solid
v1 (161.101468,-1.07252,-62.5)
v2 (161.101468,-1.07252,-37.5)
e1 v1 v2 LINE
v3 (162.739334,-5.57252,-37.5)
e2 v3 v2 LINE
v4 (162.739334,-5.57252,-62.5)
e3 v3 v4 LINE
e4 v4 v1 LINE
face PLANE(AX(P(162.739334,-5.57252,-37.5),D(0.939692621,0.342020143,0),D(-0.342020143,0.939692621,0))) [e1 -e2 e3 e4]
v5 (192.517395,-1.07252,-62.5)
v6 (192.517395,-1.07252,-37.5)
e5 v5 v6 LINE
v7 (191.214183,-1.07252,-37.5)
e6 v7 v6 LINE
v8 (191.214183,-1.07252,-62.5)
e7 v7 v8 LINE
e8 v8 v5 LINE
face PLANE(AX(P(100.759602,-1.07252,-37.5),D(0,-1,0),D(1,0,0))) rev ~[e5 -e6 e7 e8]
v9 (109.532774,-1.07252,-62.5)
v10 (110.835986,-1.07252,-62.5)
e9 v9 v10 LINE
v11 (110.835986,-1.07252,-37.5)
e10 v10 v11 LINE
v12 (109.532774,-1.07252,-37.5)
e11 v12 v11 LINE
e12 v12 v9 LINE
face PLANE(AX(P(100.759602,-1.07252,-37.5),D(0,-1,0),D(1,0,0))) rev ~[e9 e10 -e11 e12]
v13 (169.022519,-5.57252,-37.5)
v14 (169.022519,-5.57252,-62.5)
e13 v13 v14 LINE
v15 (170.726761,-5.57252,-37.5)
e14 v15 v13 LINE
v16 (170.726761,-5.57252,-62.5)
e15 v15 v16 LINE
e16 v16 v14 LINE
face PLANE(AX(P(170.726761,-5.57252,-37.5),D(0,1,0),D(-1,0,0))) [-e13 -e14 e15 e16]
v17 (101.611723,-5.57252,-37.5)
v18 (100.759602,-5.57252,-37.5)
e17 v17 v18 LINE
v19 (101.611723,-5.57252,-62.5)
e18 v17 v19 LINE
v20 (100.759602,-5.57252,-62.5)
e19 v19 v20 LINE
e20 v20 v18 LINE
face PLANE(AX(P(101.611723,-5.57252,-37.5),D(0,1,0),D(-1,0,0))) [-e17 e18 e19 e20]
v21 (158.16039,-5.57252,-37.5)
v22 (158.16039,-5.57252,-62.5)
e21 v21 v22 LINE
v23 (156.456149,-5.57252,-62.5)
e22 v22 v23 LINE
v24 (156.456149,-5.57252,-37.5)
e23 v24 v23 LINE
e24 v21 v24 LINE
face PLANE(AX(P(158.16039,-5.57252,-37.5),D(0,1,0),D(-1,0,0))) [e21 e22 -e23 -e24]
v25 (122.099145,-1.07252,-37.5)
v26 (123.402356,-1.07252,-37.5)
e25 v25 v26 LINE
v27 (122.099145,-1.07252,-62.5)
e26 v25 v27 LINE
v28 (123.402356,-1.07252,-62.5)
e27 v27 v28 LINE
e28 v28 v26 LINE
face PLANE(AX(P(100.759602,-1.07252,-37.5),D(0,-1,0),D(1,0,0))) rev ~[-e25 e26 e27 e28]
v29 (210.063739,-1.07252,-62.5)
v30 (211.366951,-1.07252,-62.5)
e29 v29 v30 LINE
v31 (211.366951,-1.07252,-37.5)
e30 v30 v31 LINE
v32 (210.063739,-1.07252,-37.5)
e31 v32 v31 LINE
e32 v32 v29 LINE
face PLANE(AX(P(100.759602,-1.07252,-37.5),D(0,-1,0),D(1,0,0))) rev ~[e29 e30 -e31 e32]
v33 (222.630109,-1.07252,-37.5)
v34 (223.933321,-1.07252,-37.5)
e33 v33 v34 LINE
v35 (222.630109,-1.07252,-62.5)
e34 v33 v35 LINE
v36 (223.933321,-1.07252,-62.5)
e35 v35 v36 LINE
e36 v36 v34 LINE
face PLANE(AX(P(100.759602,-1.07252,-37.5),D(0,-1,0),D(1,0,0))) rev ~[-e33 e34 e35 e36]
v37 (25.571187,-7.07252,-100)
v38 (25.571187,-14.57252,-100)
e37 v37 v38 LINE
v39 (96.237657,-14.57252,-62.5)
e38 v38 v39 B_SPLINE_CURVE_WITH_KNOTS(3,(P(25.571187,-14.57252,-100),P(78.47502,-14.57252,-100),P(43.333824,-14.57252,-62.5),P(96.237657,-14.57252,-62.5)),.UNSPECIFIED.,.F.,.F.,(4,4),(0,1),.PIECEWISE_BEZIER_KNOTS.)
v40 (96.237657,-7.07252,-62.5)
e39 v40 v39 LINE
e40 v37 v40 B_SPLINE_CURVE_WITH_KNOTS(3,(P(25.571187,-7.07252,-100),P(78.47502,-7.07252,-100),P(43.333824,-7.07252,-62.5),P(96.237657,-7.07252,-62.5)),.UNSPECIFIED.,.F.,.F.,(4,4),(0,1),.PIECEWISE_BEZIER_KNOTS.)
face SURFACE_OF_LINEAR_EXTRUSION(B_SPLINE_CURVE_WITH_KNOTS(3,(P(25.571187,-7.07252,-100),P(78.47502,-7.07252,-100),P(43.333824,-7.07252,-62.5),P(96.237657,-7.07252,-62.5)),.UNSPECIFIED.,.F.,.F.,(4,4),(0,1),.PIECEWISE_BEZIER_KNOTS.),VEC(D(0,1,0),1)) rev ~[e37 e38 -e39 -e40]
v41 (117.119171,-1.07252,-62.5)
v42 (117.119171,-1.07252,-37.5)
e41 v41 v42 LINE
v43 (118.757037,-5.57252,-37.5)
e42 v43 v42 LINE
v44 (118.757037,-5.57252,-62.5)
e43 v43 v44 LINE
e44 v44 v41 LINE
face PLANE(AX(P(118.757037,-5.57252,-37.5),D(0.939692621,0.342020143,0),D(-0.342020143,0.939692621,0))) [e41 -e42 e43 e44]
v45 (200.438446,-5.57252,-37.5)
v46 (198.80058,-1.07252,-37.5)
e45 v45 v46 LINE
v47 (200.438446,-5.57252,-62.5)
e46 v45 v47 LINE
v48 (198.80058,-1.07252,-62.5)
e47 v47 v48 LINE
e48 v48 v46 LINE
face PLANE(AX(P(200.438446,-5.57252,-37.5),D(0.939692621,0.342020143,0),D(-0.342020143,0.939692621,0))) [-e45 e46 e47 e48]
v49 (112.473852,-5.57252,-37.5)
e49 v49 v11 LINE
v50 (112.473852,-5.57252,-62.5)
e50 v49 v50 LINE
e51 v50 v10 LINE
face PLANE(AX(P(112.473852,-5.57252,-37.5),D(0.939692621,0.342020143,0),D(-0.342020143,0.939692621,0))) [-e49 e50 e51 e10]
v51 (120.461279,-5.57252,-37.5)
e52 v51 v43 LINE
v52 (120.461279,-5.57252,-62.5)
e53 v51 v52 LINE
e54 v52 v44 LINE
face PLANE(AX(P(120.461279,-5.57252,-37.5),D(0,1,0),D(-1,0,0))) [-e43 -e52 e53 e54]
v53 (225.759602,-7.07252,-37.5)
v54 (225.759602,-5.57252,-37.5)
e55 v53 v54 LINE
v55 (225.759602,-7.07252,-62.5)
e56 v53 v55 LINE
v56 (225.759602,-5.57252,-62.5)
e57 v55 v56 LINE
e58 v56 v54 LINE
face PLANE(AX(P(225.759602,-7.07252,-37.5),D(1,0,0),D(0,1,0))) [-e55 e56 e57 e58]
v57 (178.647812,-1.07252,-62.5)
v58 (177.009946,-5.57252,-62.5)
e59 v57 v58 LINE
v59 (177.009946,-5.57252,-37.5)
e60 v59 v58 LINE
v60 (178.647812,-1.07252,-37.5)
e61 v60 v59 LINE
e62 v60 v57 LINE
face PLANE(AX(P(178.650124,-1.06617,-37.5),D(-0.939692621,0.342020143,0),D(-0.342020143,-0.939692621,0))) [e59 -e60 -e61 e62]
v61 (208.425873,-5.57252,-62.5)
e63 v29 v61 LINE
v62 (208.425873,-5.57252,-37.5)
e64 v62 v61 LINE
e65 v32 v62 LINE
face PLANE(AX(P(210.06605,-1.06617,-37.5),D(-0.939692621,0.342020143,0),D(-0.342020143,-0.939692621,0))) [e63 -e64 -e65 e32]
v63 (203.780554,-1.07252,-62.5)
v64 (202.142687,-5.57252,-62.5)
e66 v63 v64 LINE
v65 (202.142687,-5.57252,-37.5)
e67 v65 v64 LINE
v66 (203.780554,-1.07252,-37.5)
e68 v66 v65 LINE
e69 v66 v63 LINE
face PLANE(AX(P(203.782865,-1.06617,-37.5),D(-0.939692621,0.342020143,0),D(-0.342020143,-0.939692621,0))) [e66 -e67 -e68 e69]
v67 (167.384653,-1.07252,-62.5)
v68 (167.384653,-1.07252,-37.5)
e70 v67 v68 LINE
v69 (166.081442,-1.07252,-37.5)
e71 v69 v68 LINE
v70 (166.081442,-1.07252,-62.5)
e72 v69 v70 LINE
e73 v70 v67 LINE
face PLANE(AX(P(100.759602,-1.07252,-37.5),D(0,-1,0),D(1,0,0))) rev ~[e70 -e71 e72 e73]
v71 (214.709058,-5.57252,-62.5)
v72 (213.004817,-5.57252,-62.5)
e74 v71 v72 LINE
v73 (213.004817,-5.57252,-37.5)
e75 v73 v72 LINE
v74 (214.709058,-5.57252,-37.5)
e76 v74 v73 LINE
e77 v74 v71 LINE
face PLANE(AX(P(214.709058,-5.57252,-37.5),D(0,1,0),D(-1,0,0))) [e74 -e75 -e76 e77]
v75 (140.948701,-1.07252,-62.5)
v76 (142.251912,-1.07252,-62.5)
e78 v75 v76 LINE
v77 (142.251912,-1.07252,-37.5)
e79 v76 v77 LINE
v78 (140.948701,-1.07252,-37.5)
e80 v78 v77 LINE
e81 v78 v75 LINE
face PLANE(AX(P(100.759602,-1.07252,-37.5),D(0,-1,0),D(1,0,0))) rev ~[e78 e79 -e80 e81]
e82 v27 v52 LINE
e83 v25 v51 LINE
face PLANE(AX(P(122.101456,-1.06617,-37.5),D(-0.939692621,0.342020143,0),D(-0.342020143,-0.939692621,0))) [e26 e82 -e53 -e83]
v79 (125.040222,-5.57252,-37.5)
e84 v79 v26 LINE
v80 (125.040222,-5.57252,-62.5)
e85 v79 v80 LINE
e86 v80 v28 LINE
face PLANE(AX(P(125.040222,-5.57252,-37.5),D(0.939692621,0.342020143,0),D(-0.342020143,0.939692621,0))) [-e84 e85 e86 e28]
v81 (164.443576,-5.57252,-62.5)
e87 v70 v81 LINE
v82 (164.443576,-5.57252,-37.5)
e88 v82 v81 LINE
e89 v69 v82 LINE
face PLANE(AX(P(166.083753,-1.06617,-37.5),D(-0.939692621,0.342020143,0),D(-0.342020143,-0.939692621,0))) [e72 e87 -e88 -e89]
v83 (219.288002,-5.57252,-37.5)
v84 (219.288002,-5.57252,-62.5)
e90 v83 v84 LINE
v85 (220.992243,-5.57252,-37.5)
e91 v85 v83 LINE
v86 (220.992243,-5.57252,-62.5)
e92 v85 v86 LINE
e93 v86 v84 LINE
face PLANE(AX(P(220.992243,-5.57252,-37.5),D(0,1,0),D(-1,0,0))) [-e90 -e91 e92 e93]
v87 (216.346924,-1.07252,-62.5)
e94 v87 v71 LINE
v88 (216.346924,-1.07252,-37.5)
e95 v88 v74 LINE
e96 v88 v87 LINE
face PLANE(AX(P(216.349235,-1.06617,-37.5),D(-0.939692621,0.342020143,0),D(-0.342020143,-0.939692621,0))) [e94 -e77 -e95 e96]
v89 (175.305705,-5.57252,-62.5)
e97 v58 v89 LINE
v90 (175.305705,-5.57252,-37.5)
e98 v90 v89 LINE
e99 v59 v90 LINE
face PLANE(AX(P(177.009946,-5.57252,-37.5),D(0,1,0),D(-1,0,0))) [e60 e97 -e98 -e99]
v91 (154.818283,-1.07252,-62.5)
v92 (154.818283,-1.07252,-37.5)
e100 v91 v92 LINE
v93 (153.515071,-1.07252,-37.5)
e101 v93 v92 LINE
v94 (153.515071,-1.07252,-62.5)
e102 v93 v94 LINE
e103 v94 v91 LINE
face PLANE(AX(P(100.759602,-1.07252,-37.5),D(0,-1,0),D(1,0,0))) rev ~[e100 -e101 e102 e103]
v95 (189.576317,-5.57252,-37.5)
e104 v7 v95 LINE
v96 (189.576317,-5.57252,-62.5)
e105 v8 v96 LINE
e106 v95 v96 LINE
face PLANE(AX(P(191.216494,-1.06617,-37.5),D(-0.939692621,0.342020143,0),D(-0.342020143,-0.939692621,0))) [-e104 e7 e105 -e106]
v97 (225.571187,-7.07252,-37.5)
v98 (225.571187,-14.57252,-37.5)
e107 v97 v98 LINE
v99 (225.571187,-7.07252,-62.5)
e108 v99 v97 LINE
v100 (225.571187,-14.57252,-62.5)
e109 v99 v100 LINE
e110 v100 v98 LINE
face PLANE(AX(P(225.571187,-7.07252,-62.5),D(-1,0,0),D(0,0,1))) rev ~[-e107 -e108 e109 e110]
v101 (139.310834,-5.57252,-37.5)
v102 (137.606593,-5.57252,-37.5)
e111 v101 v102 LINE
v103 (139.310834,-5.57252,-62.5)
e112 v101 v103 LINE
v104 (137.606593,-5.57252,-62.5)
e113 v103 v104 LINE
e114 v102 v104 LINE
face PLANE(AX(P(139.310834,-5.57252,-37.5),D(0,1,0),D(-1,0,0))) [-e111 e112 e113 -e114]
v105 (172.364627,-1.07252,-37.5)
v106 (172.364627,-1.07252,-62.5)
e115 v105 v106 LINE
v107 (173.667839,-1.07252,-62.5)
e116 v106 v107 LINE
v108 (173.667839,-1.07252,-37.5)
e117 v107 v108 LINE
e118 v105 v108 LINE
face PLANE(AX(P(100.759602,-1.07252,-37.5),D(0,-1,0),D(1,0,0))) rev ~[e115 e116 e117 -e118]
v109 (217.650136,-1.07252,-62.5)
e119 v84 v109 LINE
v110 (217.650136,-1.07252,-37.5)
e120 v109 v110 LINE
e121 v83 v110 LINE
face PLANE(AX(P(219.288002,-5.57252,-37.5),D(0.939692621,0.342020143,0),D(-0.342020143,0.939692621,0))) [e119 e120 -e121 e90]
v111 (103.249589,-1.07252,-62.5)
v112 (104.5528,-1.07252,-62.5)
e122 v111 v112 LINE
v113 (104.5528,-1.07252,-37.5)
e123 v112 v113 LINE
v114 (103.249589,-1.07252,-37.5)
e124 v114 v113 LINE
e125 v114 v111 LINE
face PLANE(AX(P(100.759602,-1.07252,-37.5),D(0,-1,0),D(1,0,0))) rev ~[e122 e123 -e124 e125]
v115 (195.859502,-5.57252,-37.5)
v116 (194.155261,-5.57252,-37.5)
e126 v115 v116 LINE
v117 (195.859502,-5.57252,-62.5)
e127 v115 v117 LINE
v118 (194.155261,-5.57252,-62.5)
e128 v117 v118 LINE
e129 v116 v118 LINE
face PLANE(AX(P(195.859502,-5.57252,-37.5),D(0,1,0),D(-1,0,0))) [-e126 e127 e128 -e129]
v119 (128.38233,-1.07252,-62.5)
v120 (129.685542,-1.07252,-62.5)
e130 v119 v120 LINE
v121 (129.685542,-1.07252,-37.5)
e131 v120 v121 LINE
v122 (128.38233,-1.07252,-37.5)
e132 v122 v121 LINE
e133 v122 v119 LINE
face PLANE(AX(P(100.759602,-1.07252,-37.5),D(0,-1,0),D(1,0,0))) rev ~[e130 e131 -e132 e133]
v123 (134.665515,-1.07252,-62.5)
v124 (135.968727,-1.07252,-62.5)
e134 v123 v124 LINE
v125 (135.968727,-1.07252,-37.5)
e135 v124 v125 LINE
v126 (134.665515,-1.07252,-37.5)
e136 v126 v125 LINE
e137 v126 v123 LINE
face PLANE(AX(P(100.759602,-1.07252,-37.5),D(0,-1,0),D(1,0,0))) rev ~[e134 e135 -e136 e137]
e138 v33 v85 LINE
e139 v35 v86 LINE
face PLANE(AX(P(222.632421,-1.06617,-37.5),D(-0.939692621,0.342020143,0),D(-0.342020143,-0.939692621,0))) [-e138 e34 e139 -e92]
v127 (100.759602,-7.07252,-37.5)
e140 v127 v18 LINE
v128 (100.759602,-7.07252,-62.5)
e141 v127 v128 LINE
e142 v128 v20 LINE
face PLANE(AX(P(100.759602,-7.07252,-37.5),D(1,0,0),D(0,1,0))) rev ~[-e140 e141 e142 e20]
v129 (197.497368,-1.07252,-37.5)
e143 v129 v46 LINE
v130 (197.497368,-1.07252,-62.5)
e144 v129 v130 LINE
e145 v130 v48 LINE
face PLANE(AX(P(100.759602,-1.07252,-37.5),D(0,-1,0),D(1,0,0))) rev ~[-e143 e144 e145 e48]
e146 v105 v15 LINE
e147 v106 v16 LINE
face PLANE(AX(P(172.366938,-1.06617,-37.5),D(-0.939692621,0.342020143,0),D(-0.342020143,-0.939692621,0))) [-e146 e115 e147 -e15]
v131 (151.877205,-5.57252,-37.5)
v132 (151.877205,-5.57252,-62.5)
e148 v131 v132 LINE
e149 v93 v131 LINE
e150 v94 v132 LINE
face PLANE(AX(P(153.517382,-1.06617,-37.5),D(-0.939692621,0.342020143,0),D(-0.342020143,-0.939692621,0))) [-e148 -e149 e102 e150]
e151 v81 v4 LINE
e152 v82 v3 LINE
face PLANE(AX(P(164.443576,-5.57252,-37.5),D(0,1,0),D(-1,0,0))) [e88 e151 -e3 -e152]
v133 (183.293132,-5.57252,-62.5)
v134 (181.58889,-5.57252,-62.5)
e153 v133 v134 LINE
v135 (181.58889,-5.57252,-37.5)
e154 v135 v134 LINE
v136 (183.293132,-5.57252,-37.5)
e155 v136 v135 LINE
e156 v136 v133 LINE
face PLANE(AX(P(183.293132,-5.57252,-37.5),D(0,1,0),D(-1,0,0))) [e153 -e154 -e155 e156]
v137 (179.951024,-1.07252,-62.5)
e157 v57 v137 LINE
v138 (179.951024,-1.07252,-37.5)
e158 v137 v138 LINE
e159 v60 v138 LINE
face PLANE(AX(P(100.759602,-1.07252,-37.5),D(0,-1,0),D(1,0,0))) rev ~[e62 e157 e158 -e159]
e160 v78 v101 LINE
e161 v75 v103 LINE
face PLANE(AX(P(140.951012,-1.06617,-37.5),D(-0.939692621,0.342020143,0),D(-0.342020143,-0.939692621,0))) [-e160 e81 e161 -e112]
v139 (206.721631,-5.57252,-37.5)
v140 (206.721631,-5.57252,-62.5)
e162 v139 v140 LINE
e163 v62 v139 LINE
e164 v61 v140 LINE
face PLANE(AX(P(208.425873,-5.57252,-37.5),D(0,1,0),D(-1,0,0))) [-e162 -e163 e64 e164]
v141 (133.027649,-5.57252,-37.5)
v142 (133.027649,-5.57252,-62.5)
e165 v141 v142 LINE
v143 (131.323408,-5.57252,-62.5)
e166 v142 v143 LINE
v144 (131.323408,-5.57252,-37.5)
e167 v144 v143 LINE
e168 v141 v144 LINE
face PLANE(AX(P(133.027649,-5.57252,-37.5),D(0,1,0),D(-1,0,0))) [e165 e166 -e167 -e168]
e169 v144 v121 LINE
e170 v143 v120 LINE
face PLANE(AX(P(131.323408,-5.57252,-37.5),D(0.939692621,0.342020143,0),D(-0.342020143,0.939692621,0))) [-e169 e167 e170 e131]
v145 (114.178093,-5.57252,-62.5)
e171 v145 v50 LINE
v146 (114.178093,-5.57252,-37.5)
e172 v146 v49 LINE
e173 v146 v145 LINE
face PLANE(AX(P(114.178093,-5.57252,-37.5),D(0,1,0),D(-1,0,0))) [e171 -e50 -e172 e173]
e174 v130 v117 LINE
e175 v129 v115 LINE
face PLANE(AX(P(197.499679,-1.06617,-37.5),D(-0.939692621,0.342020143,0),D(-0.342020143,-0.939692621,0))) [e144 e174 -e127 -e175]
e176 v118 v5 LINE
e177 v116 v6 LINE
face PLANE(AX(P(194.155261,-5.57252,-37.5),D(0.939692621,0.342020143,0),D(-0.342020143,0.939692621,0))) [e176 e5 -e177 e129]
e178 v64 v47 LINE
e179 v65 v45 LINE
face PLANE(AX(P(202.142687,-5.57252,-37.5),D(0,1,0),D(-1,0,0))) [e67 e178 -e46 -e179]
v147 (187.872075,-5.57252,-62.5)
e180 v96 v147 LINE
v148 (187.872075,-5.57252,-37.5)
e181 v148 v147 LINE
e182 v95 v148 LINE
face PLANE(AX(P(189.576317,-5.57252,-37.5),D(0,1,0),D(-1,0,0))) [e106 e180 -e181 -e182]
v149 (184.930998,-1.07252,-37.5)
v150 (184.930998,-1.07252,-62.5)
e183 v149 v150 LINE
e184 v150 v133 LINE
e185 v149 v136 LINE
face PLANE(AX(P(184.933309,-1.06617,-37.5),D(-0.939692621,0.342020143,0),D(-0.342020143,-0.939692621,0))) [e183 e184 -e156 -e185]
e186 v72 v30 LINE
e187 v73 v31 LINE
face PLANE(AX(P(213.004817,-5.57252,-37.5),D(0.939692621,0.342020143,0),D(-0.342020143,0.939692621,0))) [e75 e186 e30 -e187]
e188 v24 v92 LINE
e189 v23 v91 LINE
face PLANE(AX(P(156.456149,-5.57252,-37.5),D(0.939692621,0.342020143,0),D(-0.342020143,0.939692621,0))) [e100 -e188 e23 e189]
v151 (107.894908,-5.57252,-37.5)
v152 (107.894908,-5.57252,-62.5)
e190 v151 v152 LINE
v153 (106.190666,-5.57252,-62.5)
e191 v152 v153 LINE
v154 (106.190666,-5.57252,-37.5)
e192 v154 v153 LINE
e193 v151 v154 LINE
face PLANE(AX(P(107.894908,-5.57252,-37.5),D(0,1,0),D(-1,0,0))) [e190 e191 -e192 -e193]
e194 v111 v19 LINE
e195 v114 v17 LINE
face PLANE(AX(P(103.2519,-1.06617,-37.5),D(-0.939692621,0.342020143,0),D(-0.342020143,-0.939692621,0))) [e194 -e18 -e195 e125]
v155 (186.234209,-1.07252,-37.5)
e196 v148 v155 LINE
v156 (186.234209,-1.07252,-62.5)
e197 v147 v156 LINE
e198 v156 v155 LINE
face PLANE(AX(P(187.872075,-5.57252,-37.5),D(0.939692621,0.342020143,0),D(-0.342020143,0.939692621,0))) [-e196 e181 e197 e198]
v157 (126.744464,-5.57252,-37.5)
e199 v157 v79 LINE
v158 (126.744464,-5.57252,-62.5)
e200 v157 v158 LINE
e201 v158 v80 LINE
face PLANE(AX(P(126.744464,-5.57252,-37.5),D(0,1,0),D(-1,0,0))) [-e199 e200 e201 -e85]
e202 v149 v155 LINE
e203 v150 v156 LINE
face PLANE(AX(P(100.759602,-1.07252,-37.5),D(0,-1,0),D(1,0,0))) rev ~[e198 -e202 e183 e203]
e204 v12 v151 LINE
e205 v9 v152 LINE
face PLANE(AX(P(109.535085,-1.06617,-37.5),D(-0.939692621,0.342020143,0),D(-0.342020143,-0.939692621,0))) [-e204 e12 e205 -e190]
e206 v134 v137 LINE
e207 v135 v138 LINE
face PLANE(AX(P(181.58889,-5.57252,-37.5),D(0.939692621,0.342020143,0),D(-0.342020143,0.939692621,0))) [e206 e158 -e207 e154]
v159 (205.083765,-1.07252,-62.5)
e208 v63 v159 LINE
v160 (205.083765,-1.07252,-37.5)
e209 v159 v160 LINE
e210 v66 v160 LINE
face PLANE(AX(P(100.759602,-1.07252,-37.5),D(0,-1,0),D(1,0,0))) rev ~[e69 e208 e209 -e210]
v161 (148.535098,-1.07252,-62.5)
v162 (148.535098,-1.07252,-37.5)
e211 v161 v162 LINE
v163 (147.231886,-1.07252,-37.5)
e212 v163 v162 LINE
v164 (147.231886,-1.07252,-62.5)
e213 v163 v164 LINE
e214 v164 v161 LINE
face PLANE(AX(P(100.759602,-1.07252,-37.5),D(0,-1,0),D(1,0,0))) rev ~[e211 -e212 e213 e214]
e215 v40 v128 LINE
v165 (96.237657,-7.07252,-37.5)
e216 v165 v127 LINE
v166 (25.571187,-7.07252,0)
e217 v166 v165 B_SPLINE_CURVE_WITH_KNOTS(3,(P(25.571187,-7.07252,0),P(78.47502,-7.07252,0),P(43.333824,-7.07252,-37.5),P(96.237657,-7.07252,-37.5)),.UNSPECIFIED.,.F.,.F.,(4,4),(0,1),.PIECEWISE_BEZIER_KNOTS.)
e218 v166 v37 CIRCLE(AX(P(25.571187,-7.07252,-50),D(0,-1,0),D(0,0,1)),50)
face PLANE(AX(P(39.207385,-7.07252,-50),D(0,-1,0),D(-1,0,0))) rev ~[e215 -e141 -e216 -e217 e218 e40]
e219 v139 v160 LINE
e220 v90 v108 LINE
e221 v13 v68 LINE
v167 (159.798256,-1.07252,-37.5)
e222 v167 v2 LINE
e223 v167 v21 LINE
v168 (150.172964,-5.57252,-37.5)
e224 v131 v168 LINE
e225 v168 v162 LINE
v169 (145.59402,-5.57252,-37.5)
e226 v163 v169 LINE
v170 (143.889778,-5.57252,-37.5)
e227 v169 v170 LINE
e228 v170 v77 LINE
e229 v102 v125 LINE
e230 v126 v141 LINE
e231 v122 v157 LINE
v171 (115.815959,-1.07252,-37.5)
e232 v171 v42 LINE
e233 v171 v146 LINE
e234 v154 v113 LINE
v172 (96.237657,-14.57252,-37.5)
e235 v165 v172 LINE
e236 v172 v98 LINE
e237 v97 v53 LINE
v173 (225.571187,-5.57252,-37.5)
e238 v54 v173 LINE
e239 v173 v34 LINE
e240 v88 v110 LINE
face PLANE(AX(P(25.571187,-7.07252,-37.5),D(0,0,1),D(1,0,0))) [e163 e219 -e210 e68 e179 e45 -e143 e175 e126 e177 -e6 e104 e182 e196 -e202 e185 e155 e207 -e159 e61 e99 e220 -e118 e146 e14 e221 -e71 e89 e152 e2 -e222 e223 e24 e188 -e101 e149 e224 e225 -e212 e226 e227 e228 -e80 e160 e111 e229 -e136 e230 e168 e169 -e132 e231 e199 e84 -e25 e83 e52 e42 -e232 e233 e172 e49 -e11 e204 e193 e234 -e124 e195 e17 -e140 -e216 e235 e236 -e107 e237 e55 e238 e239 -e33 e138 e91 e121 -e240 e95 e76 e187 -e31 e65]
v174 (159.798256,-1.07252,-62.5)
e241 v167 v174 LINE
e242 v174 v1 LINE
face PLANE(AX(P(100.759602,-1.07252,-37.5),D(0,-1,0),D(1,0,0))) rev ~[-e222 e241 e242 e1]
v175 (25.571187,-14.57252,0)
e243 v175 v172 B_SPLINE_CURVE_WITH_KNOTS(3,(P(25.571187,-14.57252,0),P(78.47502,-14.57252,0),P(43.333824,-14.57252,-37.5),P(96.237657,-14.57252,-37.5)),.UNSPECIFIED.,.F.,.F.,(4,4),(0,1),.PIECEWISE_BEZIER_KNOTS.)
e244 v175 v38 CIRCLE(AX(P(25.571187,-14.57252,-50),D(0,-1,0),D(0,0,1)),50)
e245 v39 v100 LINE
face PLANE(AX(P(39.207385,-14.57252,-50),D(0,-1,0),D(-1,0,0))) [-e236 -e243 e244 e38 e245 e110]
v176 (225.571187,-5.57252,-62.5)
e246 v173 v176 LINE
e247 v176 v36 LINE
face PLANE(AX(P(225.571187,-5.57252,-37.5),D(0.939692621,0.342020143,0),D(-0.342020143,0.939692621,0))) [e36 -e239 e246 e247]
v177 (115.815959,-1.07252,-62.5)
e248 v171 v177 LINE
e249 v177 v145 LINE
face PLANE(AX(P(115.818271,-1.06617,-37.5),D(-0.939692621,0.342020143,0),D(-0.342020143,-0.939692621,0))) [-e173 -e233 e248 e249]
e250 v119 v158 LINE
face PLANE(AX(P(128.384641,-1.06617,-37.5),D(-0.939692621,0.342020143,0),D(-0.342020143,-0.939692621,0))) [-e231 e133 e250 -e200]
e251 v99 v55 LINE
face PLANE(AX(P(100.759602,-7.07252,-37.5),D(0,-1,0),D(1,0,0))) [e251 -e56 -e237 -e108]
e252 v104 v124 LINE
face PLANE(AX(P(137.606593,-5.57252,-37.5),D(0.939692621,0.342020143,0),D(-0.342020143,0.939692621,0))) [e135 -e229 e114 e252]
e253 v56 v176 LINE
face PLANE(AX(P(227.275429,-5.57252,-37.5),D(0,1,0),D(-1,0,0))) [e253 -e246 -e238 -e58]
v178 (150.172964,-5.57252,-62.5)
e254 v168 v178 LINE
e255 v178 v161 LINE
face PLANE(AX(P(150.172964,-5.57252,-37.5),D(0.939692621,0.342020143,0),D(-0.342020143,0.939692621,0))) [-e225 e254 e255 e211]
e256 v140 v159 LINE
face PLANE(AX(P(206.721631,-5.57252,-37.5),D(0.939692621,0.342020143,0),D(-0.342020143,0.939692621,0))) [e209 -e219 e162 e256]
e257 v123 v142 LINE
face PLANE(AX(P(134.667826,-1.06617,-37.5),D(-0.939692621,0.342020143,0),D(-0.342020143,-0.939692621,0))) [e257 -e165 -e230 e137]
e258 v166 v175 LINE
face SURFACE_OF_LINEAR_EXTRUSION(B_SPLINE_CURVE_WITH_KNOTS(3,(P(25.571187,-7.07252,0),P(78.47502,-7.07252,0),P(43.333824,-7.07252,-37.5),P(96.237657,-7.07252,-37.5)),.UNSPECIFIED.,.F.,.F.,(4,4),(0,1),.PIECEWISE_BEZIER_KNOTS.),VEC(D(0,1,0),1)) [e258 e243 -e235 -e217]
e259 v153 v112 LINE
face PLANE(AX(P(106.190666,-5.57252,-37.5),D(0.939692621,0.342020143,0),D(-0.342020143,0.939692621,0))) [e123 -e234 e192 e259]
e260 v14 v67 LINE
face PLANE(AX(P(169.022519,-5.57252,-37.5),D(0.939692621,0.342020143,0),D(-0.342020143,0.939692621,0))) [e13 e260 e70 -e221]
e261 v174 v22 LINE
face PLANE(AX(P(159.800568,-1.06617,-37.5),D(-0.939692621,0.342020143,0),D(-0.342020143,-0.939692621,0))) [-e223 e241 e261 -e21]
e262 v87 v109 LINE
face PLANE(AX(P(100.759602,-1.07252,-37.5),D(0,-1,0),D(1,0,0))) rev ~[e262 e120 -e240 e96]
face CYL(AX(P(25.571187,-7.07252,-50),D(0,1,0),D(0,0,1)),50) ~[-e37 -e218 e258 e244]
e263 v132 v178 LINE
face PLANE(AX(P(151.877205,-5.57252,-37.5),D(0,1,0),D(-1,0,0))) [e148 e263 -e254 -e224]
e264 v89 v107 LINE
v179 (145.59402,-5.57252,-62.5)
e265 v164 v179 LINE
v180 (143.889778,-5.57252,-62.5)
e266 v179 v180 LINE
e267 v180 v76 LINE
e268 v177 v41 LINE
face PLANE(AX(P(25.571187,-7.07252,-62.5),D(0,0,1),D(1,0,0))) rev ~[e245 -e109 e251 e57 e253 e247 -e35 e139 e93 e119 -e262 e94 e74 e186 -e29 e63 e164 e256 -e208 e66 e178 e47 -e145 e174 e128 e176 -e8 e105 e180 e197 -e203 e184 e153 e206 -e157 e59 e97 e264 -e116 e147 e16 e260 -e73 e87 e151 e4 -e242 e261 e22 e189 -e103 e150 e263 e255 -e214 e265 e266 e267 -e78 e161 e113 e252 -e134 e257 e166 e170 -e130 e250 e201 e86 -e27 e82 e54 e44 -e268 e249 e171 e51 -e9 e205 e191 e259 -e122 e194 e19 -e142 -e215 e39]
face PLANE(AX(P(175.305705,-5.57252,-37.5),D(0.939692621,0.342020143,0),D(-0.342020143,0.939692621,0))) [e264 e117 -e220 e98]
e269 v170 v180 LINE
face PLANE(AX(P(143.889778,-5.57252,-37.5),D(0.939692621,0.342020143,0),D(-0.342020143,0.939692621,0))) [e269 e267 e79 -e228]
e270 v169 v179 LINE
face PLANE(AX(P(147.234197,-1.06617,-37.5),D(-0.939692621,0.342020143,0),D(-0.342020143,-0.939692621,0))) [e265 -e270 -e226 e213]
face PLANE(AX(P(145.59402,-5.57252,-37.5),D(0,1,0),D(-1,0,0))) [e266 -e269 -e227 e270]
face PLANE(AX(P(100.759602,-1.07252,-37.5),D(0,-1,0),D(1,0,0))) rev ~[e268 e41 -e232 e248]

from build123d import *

# Parameters (mm, degrees)
BLANKSKE_W          = 500
BLANKSKE_H          = 24
BLANK_DEPTH         = 100
TOOTHCUTSIM_DEPTH   = 511.466453354
TEETHCUTS_COUNT     = 21
TEETHCUTS_PITCH     = 25.1327412
SKETCH1_W           = 800
SKETCH1_H           = 100
BOSS_EXTRUDE1_DEPTH = 30
SCALE1_SCALE        = 0.25
BOSS_EXTRUDE2_DEPTH = 7.5


with BuildPart() as part:
    # BlankSke → Blank (new body)
    with BuildSketch(Plane.XY):
        with Locations((250, 12)):
            Rectangle(BLANKSKE_W, BLANKSKE_H)
    extrude(amount=-BLANK_DEPTH)

    # TooCutSkeSim → ToothCutSim (cut, through all)
    with BuildSketch(Plane.XY):
        Polygon((3.408482957, 6), (-3.408482957, 6), (-9.969192018, 24.0254), (9.969192018, 24.0254), align=None)
    toothcutsim = extrude(amount=-TOOTHCUTSIM_DEPTH, mode=Mode.SUBTRACT)

    # TeethCuts: ToothCutSim ×21
    with Locations(*[(i * TEETHCUTS_PITCH, 0, 0) for i in range(1, TEETHCUTS_COUNT)]):
        add(toothcutsim, mode=Mode.SUBTRACT)

    # Sketch1 → Boss-Extrude1 (add)
    with BuildSketch(Plane.XZ):
        with Locations((99.246341043, -50)):
            Rectangle(SKETCH1_W, SKETCH1_H)
    extrude(amount=BOSS_EXTRUDE1_DEPTH)


with BuildPart() as part_1:
    # Scale1: scaled about (134.34613588, -9.4300262, -50)
    add(part.part.scale(SCALE1_SCALE).moved(Location((100.75960191, -7.07251965, -37.5))))

    # Sketch3 → Boss-Extrude2 (add)
    with BuildSketch(Plane(origin=(0, -7.07251965, 0), x_dir=(1, 0, 0), z_dir=(0, 1, 0))):
        with BuildLine():
            Line((96.237657296, 62.5), (25.57118717, 62.5))
            Line((25.57118717, 62.5), (25.57118717, 37.5))
            Line((25.57118717, 37.5), (96.237657296, 37.5))
            add(Edge.make_bspline(
                [(25.57118717, 0), (78.47502041, 0), (43.333824056, 37.5), (96.237657296, 37.5)],
                knots=[0, 0, 0, 0, 1, 1, 1, 1], degree=3))
            ThreePointArc((25.57118717, 0), (-24.42881283, 50), (25.57118717, 100))
            add(Edge.make_bspline(
                [(25.57118717, 100), (78.47502041, 100), (43.333824056, 62.5), (96.237657296, 62.5)],
                knots=[0, 0, 0, 0, 1, 1, 1, 1], degree=3))
        make_face()
    extrude(amount=-BOSS_EXTRUDE2_DEPTH)


solid = part_1.part
